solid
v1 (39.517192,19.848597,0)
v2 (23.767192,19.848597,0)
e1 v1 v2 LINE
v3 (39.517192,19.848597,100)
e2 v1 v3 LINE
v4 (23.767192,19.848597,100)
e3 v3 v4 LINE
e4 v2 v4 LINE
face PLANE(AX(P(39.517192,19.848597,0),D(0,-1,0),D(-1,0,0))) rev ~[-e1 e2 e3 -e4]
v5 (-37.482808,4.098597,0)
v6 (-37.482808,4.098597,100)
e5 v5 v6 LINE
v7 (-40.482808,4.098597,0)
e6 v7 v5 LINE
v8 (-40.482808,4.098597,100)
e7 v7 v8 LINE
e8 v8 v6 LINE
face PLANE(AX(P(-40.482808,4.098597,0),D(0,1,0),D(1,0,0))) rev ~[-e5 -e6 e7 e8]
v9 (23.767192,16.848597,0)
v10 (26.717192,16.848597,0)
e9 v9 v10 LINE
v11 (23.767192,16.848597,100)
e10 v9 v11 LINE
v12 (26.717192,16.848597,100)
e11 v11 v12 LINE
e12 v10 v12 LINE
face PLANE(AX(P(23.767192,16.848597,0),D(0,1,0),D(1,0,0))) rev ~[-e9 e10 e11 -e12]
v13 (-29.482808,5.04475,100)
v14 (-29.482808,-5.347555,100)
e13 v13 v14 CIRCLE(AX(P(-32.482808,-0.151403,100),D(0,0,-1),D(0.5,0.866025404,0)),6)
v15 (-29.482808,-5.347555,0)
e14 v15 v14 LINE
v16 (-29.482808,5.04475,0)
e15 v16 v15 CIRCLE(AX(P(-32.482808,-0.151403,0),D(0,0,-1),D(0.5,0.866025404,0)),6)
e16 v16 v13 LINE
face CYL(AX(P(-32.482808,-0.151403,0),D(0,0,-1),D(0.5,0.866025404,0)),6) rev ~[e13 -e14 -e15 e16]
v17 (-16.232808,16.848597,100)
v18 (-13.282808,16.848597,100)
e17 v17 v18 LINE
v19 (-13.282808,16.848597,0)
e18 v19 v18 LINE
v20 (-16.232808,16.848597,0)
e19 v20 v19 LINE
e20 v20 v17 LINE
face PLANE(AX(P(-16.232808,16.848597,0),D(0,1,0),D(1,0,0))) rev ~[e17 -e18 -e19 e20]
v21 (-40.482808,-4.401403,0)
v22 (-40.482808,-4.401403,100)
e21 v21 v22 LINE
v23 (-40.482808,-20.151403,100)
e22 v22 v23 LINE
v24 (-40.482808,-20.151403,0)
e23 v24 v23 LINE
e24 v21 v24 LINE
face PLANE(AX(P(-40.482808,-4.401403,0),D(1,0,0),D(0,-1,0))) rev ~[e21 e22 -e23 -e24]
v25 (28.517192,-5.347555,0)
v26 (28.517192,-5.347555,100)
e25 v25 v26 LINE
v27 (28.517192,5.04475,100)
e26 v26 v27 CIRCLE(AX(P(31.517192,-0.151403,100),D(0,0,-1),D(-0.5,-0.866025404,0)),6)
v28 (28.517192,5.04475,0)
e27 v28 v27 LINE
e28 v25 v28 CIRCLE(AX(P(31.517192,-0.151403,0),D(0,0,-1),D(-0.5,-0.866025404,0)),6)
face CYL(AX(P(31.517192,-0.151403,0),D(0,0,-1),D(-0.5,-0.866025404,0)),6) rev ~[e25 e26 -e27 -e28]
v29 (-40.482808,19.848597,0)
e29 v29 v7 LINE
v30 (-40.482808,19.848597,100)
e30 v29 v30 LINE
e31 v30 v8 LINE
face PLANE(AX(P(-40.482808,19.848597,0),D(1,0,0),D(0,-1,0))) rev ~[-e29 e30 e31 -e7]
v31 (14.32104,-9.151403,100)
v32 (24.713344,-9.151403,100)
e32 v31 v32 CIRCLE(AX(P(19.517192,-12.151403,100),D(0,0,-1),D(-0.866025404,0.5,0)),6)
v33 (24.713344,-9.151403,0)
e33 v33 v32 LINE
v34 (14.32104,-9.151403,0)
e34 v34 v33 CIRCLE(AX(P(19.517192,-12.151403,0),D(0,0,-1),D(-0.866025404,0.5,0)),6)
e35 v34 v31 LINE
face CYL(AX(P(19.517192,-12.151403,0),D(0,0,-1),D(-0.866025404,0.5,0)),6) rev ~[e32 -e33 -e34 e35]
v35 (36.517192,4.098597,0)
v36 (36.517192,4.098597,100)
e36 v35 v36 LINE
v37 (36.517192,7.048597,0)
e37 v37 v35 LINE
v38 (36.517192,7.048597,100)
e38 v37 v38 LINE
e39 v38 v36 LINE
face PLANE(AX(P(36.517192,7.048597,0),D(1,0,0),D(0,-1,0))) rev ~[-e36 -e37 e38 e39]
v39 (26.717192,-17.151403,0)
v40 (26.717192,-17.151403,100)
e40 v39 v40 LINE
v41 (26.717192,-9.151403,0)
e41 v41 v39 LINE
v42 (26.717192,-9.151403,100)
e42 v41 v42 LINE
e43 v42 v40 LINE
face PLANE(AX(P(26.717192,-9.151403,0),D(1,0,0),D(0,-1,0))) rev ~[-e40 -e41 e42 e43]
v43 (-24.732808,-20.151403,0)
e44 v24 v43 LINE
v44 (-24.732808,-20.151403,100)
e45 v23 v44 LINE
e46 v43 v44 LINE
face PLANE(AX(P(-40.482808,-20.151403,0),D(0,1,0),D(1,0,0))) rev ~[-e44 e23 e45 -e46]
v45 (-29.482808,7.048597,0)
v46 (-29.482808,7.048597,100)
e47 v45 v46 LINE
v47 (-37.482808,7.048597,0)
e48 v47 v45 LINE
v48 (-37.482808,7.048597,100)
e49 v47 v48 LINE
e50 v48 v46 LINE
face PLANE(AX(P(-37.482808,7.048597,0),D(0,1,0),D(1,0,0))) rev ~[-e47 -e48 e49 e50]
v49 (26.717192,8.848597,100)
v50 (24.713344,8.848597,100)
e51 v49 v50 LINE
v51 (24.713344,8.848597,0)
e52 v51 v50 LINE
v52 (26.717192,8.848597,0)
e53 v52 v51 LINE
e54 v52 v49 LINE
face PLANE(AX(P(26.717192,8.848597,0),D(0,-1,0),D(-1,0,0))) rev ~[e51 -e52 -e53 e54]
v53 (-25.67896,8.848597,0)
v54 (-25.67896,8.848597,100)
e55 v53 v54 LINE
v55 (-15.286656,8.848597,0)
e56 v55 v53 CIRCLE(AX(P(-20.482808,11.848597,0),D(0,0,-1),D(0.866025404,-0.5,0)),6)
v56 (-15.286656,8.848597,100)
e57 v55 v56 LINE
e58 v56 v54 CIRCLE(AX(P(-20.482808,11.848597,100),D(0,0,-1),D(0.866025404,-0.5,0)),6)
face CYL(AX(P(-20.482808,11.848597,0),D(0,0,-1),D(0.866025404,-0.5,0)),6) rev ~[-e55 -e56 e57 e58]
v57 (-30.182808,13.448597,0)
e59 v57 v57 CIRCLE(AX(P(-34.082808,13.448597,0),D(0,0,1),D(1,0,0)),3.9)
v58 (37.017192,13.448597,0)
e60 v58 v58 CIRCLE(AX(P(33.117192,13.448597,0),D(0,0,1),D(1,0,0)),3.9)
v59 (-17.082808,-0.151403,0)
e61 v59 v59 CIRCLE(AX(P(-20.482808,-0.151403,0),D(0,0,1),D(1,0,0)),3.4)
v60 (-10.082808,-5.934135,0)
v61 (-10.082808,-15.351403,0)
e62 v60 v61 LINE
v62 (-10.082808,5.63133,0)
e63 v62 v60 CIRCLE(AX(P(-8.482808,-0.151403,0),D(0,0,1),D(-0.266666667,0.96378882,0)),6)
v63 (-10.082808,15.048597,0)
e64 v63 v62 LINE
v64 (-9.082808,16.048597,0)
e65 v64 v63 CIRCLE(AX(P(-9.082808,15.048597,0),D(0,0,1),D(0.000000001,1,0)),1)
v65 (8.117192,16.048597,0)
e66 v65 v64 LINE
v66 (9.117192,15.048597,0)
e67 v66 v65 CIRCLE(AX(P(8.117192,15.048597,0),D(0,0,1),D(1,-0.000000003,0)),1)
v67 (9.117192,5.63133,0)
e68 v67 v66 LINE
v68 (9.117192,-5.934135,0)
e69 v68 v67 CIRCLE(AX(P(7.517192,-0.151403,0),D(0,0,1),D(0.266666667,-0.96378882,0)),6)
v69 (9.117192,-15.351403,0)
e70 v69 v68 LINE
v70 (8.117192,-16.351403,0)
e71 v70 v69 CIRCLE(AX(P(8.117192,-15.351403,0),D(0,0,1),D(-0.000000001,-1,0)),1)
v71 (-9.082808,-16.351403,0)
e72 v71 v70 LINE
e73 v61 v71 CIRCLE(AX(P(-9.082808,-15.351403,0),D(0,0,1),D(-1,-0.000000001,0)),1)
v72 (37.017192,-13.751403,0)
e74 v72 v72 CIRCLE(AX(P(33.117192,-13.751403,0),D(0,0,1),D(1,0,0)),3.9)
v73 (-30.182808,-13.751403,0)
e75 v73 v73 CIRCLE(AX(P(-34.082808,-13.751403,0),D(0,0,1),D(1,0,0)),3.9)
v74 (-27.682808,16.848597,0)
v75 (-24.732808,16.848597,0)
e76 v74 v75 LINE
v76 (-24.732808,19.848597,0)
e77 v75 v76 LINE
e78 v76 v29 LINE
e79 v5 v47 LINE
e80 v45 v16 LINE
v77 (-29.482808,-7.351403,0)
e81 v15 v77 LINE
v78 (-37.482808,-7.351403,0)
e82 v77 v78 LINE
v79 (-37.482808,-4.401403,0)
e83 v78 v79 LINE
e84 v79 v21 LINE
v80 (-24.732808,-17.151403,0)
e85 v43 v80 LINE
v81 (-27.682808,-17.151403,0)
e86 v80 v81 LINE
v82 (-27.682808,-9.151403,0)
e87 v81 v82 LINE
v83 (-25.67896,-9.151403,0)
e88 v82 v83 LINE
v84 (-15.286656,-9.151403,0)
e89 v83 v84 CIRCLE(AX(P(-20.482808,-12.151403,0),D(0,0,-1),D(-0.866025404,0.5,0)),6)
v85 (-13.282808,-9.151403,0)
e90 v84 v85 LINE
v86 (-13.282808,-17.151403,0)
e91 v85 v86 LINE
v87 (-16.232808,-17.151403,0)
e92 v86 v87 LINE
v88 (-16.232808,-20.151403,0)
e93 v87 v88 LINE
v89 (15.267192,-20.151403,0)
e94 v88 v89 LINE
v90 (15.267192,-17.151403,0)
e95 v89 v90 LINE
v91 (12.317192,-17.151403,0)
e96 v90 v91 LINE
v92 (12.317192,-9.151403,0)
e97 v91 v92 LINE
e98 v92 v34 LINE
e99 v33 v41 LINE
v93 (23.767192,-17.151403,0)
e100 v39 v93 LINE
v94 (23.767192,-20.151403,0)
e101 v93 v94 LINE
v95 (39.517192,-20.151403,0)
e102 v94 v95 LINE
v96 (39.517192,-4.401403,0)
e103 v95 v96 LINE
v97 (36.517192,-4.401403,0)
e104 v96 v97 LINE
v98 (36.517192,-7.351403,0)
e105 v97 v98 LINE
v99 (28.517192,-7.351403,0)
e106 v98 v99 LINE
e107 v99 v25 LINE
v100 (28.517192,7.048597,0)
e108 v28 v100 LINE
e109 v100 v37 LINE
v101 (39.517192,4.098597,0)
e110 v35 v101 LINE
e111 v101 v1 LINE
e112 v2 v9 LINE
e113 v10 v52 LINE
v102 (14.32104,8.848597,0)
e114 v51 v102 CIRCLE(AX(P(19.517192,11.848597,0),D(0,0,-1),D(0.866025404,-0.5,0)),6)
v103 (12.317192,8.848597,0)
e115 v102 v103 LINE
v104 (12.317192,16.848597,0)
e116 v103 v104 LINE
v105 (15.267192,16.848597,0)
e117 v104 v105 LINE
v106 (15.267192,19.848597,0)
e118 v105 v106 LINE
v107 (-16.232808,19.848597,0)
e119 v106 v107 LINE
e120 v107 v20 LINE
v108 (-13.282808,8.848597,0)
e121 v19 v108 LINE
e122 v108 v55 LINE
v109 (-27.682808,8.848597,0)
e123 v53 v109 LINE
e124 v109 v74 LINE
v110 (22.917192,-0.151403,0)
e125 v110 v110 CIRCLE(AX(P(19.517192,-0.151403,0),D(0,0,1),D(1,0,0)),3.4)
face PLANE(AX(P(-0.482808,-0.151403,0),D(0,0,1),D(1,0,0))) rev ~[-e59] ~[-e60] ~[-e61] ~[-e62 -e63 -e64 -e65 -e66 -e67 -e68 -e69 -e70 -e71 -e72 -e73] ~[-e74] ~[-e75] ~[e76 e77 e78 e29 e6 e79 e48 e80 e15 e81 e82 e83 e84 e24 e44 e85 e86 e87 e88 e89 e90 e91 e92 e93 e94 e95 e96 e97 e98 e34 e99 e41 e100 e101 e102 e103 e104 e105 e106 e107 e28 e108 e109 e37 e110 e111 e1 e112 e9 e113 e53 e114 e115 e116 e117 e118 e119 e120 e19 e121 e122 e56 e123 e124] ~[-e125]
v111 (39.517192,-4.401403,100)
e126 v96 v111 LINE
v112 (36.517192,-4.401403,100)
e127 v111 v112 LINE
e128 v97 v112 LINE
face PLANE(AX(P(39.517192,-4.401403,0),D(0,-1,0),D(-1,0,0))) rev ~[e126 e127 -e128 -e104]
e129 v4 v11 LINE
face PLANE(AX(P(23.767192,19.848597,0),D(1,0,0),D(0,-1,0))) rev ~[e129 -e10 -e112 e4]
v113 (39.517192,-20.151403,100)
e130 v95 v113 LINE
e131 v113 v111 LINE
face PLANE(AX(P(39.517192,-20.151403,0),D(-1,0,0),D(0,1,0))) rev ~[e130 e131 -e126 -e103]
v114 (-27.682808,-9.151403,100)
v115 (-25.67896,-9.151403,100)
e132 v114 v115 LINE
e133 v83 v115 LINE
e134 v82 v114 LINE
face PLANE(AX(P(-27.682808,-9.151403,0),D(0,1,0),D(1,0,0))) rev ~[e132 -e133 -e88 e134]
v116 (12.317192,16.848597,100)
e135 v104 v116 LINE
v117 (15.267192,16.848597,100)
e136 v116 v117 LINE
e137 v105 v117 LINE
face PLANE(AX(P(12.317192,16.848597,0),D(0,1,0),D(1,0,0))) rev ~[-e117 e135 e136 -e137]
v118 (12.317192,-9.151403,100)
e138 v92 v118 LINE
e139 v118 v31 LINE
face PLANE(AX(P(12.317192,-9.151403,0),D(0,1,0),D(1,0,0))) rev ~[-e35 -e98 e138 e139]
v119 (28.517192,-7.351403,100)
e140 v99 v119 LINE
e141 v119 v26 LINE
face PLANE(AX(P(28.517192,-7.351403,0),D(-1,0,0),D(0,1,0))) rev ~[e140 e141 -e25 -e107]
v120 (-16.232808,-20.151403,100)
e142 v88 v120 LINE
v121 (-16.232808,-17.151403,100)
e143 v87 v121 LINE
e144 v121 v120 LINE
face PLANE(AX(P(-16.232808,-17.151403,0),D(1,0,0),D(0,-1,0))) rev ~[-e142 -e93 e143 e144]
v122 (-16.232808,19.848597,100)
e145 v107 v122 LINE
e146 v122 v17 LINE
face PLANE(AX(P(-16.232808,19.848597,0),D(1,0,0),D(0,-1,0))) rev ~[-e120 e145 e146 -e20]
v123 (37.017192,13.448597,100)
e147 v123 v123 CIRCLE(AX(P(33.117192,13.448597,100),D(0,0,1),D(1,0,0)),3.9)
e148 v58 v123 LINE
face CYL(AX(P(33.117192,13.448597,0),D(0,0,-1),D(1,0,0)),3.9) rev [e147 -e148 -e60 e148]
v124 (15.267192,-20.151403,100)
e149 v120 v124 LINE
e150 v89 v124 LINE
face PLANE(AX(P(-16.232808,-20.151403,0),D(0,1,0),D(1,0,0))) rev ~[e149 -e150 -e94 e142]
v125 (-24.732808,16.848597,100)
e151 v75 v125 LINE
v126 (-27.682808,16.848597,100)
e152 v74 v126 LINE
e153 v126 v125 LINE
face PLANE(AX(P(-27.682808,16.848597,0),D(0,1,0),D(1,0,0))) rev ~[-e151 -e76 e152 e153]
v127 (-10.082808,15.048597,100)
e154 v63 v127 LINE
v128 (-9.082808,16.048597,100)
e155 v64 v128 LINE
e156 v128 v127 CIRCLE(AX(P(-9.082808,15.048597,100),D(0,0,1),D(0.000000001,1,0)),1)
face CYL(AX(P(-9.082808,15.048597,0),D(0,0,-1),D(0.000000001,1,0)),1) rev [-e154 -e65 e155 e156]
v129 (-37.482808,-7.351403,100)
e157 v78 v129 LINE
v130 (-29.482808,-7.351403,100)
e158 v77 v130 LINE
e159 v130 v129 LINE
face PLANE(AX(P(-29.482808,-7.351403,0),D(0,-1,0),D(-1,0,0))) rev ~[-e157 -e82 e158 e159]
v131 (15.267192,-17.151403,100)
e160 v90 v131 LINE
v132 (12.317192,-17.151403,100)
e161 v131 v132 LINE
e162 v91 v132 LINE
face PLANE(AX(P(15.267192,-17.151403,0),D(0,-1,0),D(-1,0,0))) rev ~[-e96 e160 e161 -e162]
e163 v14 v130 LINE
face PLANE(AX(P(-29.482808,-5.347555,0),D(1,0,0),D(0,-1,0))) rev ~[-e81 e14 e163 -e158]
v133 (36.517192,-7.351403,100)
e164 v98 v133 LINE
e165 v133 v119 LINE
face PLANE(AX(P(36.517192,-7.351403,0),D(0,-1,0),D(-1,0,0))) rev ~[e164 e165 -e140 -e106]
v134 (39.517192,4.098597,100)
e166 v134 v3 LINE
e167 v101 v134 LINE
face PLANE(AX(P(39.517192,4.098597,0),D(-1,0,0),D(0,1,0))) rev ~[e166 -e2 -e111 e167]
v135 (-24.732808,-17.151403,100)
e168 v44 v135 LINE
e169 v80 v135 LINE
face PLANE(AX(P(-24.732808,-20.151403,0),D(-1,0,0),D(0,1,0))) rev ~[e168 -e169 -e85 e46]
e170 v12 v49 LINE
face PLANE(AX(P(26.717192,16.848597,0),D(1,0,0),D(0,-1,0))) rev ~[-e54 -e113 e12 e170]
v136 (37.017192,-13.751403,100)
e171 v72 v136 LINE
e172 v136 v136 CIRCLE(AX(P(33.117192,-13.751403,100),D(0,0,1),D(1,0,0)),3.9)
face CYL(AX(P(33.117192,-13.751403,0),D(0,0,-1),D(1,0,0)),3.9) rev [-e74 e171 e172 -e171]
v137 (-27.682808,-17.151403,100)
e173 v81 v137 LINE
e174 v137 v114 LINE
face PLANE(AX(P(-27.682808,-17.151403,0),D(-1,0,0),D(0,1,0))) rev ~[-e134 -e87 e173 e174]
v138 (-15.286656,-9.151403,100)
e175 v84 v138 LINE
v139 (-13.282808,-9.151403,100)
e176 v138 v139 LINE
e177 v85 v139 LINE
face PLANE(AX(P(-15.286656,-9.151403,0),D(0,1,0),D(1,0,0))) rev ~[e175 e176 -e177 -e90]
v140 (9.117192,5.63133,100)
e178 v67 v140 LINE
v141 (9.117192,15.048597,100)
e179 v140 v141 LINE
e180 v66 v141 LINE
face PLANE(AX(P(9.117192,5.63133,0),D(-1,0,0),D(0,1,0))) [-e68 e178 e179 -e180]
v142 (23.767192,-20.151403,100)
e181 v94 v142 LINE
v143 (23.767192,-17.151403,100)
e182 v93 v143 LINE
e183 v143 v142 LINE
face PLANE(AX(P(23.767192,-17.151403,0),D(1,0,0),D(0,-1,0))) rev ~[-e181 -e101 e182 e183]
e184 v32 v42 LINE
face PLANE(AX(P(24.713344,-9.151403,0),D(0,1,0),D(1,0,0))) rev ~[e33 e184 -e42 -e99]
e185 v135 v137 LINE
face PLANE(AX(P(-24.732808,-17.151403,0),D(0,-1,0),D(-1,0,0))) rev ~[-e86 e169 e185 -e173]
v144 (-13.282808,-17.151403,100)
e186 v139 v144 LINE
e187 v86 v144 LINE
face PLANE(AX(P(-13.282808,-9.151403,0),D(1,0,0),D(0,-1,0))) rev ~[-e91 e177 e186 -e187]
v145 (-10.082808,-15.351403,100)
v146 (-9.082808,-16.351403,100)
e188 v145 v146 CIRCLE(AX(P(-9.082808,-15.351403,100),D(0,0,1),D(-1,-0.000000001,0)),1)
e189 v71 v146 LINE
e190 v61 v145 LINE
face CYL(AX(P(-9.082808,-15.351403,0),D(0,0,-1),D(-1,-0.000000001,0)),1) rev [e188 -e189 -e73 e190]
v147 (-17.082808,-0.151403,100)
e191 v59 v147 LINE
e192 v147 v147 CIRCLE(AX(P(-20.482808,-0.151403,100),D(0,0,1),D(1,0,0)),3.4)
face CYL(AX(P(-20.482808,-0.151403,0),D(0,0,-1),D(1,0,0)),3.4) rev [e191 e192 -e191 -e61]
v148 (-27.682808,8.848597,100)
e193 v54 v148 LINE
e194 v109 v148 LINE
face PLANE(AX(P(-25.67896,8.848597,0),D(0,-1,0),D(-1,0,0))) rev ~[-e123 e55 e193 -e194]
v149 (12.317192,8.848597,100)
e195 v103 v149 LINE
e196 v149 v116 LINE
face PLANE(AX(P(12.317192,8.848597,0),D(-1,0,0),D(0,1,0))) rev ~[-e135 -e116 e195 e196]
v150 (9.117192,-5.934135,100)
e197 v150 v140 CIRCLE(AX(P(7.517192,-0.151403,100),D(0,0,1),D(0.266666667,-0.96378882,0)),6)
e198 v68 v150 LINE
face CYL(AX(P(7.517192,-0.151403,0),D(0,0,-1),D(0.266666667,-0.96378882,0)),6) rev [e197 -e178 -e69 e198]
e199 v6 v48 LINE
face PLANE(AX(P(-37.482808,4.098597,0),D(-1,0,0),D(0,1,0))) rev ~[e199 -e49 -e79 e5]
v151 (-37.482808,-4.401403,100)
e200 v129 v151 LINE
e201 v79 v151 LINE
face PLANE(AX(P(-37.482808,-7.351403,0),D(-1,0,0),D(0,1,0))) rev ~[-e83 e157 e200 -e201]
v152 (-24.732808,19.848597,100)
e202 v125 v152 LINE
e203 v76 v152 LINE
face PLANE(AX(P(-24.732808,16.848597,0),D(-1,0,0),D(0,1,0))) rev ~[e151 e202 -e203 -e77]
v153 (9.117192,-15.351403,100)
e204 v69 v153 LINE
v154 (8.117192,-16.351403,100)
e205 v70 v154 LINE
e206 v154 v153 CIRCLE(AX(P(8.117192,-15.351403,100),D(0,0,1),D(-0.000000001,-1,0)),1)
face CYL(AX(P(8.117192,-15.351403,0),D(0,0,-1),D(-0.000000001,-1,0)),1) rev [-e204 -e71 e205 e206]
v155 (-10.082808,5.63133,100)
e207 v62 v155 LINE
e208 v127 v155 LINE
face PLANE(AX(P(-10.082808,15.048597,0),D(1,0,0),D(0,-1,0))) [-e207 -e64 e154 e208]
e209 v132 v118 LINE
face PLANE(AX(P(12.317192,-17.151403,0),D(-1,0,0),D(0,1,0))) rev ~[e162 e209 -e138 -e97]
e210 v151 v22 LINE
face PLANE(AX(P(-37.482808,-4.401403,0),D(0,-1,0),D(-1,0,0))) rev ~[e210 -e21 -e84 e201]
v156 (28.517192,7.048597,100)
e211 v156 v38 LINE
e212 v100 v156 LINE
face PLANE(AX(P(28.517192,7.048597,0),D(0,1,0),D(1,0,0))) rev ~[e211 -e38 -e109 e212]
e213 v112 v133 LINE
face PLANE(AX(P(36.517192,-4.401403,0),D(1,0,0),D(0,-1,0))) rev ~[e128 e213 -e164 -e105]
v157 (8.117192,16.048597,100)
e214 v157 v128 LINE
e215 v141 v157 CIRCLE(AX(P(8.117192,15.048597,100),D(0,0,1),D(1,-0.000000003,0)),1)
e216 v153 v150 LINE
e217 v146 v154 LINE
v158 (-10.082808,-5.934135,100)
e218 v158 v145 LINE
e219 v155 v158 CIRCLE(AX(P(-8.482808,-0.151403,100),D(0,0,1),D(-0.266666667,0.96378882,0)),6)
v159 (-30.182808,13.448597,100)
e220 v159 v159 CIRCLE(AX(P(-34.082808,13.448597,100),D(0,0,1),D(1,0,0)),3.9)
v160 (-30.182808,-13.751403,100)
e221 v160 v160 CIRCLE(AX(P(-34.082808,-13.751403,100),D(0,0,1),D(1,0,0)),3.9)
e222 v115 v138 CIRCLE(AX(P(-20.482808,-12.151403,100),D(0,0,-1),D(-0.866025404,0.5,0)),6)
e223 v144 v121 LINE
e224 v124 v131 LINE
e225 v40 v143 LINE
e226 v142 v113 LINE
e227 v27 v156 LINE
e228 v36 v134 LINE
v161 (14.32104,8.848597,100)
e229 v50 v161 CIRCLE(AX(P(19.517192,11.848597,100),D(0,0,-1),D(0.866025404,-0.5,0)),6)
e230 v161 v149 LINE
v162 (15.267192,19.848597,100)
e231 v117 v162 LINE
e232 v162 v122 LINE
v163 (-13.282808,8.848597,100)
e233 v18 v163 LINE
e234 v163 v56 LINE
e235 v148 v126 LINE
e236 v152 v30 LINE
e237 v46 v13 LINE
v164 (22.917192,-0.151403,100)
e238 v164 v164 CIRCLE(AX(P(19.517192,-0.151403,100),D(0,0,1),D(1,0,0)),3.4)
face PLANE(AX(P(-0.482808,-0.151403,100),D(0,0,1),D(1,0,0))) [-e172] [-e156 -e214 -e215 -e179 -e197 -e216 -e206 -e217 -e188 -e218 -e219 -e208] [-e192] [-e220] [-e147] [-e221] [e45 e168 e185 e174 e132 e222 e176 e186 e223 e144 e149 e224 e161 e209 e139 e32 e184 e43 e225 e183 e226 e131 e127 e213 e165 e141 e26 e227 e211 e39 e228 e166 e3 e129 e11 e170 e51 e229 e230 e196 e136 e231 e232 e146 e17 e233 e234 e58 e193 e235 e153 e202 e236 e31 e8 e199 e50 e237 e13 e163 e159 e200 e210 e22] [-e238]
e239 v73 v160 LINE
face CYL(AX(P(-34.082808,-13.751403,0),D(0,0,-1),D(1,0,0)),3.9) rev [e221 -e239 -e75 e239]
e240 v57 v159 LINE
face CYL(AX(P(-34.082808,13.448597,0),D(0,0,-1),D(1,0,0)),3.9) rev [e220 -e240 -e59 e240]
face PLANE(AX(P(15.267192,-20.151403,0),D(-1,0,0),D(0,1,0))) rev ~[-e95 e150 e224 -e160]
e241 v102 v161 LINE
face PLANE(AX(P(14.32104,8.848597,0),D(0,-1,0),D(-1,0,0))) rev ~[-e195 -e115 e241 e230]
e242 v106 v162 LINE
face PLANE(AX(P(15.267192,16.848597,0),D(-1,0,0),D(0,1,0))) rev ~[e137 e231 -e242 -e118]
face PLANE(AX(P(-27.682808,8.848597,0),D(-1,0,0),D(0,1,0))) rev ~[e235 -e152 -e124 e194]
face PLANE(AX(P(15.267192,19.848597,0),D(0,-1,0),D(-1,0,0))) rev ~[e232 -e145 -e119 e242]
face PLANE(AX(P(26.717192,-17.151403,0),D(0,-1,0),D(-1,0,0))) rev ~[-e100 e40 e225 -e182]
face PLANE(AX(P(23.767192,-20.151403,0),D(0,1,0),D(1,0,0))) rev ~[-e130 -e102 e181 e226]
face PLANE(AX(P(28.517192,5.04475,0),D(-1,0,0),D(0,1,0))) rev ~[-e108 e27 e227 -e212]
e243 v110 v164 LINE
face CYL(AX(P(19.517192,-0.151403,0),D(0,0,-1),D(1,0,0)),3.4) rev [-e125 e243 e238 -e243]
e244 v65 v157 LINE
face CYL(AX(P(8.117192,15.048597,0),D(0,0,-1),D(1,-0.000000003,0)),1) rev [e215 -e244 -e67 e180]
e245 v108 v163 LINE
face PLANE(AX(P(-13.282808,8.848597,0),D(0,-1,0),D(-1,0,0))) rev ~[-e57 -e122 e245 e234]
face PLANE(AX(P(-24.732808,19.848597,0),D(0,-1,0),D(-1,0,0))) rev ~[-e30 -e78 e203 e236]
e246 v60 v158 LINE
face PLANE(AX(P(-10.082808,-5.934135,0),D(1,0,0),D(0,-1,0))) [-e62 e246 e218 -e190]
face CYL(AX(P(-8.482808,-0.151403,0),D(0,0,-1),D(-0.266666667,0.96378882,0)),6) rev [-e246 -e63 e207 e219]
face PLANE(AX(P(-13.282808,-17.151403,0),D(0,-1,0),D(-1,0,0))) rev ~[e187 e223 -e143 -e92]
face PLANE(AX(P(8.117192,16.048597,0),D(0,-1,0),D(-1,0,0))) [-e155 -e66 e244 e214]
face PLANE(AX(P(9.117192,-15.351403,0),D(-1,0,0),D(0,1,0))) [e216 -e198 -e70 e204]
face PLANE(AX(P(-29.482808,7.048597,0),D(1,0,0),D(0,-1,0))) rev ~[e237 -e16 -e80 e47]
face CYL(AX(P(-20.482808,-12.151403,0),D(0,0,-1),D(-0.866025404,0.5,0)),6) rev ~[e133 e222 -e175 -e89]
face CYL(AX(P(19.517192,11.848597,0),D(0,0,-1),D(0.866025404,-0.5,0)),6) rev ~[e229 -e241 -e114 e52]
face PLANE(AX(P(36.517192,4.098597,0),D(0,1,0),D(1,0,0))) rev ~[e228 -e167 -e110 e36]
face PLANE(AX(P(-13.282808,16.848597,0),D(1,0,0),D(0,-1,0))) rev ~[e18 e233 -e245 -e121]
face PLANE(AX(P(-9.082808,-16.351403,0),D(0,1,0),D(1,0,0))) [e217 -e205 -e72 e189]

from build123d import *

# Parameters (mm, degrees)
SKETCH_1_R      = 3.9
SKETCH_1_R_2    = 3.4
EXTRUDE_1_DEPTH = 100


with BuildPart() as part:
    # 草图1 → 凸台-拉伸1 (new body)
    with BuildSketch(Plane.XY):
        with BuildLine():
            Line((-24.732808051, 19.848597475), (-40.482808051, 19.848597475))
            Line((-40.482808051, 19.848597475), (-40.482808051, 4.098597475))
            Line((-40.482808051, 4.098597475), (-37.482808051, 4.098597475))
            Line((-37.482808051, 4.098597475), (-37.482808051, 7.048597475))
            Line((-37.482808051, 7.048597475), (-29.482808051, 7.048597475))
            Line((-29.482808051, 7.048597475), (-29.482808051, 5.044749898))
            ThreePointArc((-29.482808051, 5.044749898), (-26.482808051, -0.151402525), (-29.482808051, -5.347554947))
            Line((-29.482808051, -5.347554947), (-29.482808051, -7.351402525))
            Line((-29.482808051, -7.351402525), (-37.482808051, -7.351402525))
            Line((-37.482808051, -7.351402525), (-37.482808051, -4.401402525))
            Line((-37.482808051, -4.401402525), (-40.482808051, -4.401402525))
            Line((-40.482808051, -4.401402525), (-40.482808051, -20.151402525))
            Line((-40.482808051, -20.151402525), (-24.732808051, -20.151402525))
            Line((-24.732808051, -20.151402525), (-24.732808051, -17.151402525))
            Line((-24.732808051, -17.151402525), (-27.682808051, -17.151402525))
            Line((-27.682808051, -17.151402525), (-27.682808051, -9.151402525))
            Line((-27.682808051, -9.151402525), (-25.678960473, -9.151402525))
            ThreePointArc((-25.678960473, -9.151402525), (-20.482808051, -6.151402525), (-15.286655628, -9.151402525))
            Line((-15.286655628, -9.151402525), (-13.282808051, -9.151402525))
            Line((-13.282808051, -9.151402525), (-13.282808051, -17.151402525))
            Line((-13.282808051, -17.151402525), (-16.232808051, -17.151402525))
            Line((-16.232808051, -17.151402525), (-16.232808051, -20.151402525))
            Line((-16.232808051, -20.151402525), (-0.482808051, -20.151402525))
            Line((-0.482808051, -20.151402525), (15.267191949, -20.151402525))
            Line((15.267191949, -20.151402525), (15.267191949, -17.151402525))
            Line((15.267191949, -17.151402525), (12.317191949, -17.151402525))
            Line((12.317191949, -17.151402525), (12.317191949, -9.151402525))
            Line((12.317191949, -9.151402525), (14.321039527, -9.151402525))
            ThreePointArc((14.321039527, -9.151402525), (19.517191949, -6.151402525), (24.713344372, -9.151402525))
            Line((24.713344372, -9.151402525), (26.717191949, -9.151402525))
            Line((26.717191949, -9.151402525), (26.717191949, -17.151402525))
            Line((26.717191949, -17.151402525), (23.767191949, -17.151402525))
            Line((23.767191949, -17.151402525), (23.767191949, -20.151402525))
            Line((23.767191949, -20.151402525), (39.517191949, -20.151402525))
            Line((39.517191949, -20.151402525), (39.517191949, -4.401402525))
            Line((39.517191949, -4.401402525), (36.517191949, -4.401402525))
            Line((36.517191949, -4.401402525), (36.517191949, -7.351402525))
            Line((36.517191949, -7.351402525), (28.517191949, -7.351402525))
            Line((28.517191949, -7.351402525), (28.517191949, -5.347554947))
            ThreePointArc((28.517191949, -5.347554947), (25.517191949, -0.151402525), (28.517191949, 5.044749898))
            Line((28.517191949, 5.044749898), (28.517191949, 7.048597475))
            Line((28.517191949, 7.048597475), (36.517191949, 7.048597475))
            Line((36.517191949, 7.048597475), (36.517191949, 4.098597475))
            Line((36.517191949, 4.098597475), (39.517191949, 4.098597475))
            Line((39.517191949, 4.098597475), (39.517191949, 19.848597475))
            Line((39.517191949, 19.848597475), (23.767191949, 19.848597475))
            Line((23.767191949, 19.848597475), (23.767191949, 16.848597475))
            Line((23.767191949, 16.848597475), (26.717191949, 16.848597475))
            Line((26.717191949, 16.848597475), (26.717191949, 8.848597475))
            Line((26.717191949, 8.848597475), (24.713344372, 8.848597475))
            ThreePointArc((24.713344372, 8.848597475), (19.517191949, 5.848597475), (14.321039527, 8.848597475))
            Line((14.321039527, 8.848597475), (12.317191949, 8.848597475))
            Line((12.317191949, 8.848597475), (12.317191949, 16.848597475))
            Line((12.317191949, 16.848597475), (15.267191949, 16.848597475))
            Line((15.267191949, 16.848597475), (15.267191949, 19.848597475))
            Line((15.267191949, 19.848597475), (-0.482808051, 19.848597475))
            Line((-0.482808051, 19.848597475), (-16.232808051, 19.848597475))
            Line((-16.232808051, 19.848597475), (-16.232808051, 16.848597475))
            Line((-16.232808051, 16.848597475), (-13.282808051, 16.848597475))
            Line((-13.282808051, 16.848597475), (-13.282808051, 8.848597475))
            Line((-13.282808051, 8.848597475), (-15.286655628, 8.848597475))
            ThreePointArc((-15.286655628, 8.848597475), (-20.482808051, 5.848597475), (-25.678960473, 8.848597475))
            Line((-25.678960473, 8.848597475), (-27.682808051, 8.848597475))
            Line((-27.682808051, 8.848597475), (-27.682808051, 16.848597475))
            Line((-27.682808051, 16.848597475), (-24.732808051, 16.848597475))
            Line((-24.732808051, 16.848597475), (-24.732808051, 19.848597475))
        make_face()
        with Locations((-34.082808051, 13.448597475)):
            Circle(SKETCH_1_R, mode=Mode.SUBTRACT)
        with Locations((-34.082808051, -13.751402525)):
            Circle(SKETCH_1_R, mode=Mode.SUBTRACT)
        with Locations((-20.482808051, -0.151402525)):
            Circle(SKETCH_1_R_2, mode=Mode.SUBTRACT)
        with Locations((33.117191949, 13.448597475)):
            Circle(SKETCH_1_R, mode=Mode.SUBTRACT)
        with Locations((33.117191949, -13.751402525)):
            Circle(SKETCH_1_R, mode=Mode.SUBTRACT)
        with Locations((19.517191949, -0.151402525)):
            Circle(SKETCH_1_R_2, mode=Mode.SUBTRACT)
        with BuildLine():
            Line((-10.082808051, 15.048597475), (-10.082808051, 5.631330393))
            ThreePointArc((-10.082808051, 5.631330393), (-14.482808051, -0.151402525), (-10.082808051, -5.934135442))
            Line((-10.082808051, -5.934135442), (-10.082808051, -15.351402525))
            ThreePointArc((-10.082808051, -15.351402525), (-9.789914832, -16.058509306), (-9.082808051, -16.351402525))
            Line((-9.082808051, -16.351402525), (8.117191949, -16.351402525))
            ThreePointArc((8.117191949, -16.351402525), (8.824298731, -16.058509306), (9.117191949, -15.351402525))
            Line((9.117191949, -15.351402525), (9.117191949, -5.934135442))
            ThreePointArc((9.117191949, -5.934135442), (13.517191949, -0.151402525), (9.117191949, 5.631330393))
            Line((9.117191949, 5.631330393), (9.117191949, 15.048597475))
            ThreePointArc((9.117191949, 15.048597475), (8.824298731, 15.755704257), (8.117191949, 16.048597475))
            Line((8.117191949, 16.048597475), (-9.082808051, 16.048597475))
            ThreePointArc((-9.082808051, 16.048597475), (-9.789914832, 15.755704257), (-10.082808051, 15.048597475))
        make_face(mode=Mode.SUBTRACT)
    extrude(amount=EXTRUDE_1_DEPTH)


solid = part.part
